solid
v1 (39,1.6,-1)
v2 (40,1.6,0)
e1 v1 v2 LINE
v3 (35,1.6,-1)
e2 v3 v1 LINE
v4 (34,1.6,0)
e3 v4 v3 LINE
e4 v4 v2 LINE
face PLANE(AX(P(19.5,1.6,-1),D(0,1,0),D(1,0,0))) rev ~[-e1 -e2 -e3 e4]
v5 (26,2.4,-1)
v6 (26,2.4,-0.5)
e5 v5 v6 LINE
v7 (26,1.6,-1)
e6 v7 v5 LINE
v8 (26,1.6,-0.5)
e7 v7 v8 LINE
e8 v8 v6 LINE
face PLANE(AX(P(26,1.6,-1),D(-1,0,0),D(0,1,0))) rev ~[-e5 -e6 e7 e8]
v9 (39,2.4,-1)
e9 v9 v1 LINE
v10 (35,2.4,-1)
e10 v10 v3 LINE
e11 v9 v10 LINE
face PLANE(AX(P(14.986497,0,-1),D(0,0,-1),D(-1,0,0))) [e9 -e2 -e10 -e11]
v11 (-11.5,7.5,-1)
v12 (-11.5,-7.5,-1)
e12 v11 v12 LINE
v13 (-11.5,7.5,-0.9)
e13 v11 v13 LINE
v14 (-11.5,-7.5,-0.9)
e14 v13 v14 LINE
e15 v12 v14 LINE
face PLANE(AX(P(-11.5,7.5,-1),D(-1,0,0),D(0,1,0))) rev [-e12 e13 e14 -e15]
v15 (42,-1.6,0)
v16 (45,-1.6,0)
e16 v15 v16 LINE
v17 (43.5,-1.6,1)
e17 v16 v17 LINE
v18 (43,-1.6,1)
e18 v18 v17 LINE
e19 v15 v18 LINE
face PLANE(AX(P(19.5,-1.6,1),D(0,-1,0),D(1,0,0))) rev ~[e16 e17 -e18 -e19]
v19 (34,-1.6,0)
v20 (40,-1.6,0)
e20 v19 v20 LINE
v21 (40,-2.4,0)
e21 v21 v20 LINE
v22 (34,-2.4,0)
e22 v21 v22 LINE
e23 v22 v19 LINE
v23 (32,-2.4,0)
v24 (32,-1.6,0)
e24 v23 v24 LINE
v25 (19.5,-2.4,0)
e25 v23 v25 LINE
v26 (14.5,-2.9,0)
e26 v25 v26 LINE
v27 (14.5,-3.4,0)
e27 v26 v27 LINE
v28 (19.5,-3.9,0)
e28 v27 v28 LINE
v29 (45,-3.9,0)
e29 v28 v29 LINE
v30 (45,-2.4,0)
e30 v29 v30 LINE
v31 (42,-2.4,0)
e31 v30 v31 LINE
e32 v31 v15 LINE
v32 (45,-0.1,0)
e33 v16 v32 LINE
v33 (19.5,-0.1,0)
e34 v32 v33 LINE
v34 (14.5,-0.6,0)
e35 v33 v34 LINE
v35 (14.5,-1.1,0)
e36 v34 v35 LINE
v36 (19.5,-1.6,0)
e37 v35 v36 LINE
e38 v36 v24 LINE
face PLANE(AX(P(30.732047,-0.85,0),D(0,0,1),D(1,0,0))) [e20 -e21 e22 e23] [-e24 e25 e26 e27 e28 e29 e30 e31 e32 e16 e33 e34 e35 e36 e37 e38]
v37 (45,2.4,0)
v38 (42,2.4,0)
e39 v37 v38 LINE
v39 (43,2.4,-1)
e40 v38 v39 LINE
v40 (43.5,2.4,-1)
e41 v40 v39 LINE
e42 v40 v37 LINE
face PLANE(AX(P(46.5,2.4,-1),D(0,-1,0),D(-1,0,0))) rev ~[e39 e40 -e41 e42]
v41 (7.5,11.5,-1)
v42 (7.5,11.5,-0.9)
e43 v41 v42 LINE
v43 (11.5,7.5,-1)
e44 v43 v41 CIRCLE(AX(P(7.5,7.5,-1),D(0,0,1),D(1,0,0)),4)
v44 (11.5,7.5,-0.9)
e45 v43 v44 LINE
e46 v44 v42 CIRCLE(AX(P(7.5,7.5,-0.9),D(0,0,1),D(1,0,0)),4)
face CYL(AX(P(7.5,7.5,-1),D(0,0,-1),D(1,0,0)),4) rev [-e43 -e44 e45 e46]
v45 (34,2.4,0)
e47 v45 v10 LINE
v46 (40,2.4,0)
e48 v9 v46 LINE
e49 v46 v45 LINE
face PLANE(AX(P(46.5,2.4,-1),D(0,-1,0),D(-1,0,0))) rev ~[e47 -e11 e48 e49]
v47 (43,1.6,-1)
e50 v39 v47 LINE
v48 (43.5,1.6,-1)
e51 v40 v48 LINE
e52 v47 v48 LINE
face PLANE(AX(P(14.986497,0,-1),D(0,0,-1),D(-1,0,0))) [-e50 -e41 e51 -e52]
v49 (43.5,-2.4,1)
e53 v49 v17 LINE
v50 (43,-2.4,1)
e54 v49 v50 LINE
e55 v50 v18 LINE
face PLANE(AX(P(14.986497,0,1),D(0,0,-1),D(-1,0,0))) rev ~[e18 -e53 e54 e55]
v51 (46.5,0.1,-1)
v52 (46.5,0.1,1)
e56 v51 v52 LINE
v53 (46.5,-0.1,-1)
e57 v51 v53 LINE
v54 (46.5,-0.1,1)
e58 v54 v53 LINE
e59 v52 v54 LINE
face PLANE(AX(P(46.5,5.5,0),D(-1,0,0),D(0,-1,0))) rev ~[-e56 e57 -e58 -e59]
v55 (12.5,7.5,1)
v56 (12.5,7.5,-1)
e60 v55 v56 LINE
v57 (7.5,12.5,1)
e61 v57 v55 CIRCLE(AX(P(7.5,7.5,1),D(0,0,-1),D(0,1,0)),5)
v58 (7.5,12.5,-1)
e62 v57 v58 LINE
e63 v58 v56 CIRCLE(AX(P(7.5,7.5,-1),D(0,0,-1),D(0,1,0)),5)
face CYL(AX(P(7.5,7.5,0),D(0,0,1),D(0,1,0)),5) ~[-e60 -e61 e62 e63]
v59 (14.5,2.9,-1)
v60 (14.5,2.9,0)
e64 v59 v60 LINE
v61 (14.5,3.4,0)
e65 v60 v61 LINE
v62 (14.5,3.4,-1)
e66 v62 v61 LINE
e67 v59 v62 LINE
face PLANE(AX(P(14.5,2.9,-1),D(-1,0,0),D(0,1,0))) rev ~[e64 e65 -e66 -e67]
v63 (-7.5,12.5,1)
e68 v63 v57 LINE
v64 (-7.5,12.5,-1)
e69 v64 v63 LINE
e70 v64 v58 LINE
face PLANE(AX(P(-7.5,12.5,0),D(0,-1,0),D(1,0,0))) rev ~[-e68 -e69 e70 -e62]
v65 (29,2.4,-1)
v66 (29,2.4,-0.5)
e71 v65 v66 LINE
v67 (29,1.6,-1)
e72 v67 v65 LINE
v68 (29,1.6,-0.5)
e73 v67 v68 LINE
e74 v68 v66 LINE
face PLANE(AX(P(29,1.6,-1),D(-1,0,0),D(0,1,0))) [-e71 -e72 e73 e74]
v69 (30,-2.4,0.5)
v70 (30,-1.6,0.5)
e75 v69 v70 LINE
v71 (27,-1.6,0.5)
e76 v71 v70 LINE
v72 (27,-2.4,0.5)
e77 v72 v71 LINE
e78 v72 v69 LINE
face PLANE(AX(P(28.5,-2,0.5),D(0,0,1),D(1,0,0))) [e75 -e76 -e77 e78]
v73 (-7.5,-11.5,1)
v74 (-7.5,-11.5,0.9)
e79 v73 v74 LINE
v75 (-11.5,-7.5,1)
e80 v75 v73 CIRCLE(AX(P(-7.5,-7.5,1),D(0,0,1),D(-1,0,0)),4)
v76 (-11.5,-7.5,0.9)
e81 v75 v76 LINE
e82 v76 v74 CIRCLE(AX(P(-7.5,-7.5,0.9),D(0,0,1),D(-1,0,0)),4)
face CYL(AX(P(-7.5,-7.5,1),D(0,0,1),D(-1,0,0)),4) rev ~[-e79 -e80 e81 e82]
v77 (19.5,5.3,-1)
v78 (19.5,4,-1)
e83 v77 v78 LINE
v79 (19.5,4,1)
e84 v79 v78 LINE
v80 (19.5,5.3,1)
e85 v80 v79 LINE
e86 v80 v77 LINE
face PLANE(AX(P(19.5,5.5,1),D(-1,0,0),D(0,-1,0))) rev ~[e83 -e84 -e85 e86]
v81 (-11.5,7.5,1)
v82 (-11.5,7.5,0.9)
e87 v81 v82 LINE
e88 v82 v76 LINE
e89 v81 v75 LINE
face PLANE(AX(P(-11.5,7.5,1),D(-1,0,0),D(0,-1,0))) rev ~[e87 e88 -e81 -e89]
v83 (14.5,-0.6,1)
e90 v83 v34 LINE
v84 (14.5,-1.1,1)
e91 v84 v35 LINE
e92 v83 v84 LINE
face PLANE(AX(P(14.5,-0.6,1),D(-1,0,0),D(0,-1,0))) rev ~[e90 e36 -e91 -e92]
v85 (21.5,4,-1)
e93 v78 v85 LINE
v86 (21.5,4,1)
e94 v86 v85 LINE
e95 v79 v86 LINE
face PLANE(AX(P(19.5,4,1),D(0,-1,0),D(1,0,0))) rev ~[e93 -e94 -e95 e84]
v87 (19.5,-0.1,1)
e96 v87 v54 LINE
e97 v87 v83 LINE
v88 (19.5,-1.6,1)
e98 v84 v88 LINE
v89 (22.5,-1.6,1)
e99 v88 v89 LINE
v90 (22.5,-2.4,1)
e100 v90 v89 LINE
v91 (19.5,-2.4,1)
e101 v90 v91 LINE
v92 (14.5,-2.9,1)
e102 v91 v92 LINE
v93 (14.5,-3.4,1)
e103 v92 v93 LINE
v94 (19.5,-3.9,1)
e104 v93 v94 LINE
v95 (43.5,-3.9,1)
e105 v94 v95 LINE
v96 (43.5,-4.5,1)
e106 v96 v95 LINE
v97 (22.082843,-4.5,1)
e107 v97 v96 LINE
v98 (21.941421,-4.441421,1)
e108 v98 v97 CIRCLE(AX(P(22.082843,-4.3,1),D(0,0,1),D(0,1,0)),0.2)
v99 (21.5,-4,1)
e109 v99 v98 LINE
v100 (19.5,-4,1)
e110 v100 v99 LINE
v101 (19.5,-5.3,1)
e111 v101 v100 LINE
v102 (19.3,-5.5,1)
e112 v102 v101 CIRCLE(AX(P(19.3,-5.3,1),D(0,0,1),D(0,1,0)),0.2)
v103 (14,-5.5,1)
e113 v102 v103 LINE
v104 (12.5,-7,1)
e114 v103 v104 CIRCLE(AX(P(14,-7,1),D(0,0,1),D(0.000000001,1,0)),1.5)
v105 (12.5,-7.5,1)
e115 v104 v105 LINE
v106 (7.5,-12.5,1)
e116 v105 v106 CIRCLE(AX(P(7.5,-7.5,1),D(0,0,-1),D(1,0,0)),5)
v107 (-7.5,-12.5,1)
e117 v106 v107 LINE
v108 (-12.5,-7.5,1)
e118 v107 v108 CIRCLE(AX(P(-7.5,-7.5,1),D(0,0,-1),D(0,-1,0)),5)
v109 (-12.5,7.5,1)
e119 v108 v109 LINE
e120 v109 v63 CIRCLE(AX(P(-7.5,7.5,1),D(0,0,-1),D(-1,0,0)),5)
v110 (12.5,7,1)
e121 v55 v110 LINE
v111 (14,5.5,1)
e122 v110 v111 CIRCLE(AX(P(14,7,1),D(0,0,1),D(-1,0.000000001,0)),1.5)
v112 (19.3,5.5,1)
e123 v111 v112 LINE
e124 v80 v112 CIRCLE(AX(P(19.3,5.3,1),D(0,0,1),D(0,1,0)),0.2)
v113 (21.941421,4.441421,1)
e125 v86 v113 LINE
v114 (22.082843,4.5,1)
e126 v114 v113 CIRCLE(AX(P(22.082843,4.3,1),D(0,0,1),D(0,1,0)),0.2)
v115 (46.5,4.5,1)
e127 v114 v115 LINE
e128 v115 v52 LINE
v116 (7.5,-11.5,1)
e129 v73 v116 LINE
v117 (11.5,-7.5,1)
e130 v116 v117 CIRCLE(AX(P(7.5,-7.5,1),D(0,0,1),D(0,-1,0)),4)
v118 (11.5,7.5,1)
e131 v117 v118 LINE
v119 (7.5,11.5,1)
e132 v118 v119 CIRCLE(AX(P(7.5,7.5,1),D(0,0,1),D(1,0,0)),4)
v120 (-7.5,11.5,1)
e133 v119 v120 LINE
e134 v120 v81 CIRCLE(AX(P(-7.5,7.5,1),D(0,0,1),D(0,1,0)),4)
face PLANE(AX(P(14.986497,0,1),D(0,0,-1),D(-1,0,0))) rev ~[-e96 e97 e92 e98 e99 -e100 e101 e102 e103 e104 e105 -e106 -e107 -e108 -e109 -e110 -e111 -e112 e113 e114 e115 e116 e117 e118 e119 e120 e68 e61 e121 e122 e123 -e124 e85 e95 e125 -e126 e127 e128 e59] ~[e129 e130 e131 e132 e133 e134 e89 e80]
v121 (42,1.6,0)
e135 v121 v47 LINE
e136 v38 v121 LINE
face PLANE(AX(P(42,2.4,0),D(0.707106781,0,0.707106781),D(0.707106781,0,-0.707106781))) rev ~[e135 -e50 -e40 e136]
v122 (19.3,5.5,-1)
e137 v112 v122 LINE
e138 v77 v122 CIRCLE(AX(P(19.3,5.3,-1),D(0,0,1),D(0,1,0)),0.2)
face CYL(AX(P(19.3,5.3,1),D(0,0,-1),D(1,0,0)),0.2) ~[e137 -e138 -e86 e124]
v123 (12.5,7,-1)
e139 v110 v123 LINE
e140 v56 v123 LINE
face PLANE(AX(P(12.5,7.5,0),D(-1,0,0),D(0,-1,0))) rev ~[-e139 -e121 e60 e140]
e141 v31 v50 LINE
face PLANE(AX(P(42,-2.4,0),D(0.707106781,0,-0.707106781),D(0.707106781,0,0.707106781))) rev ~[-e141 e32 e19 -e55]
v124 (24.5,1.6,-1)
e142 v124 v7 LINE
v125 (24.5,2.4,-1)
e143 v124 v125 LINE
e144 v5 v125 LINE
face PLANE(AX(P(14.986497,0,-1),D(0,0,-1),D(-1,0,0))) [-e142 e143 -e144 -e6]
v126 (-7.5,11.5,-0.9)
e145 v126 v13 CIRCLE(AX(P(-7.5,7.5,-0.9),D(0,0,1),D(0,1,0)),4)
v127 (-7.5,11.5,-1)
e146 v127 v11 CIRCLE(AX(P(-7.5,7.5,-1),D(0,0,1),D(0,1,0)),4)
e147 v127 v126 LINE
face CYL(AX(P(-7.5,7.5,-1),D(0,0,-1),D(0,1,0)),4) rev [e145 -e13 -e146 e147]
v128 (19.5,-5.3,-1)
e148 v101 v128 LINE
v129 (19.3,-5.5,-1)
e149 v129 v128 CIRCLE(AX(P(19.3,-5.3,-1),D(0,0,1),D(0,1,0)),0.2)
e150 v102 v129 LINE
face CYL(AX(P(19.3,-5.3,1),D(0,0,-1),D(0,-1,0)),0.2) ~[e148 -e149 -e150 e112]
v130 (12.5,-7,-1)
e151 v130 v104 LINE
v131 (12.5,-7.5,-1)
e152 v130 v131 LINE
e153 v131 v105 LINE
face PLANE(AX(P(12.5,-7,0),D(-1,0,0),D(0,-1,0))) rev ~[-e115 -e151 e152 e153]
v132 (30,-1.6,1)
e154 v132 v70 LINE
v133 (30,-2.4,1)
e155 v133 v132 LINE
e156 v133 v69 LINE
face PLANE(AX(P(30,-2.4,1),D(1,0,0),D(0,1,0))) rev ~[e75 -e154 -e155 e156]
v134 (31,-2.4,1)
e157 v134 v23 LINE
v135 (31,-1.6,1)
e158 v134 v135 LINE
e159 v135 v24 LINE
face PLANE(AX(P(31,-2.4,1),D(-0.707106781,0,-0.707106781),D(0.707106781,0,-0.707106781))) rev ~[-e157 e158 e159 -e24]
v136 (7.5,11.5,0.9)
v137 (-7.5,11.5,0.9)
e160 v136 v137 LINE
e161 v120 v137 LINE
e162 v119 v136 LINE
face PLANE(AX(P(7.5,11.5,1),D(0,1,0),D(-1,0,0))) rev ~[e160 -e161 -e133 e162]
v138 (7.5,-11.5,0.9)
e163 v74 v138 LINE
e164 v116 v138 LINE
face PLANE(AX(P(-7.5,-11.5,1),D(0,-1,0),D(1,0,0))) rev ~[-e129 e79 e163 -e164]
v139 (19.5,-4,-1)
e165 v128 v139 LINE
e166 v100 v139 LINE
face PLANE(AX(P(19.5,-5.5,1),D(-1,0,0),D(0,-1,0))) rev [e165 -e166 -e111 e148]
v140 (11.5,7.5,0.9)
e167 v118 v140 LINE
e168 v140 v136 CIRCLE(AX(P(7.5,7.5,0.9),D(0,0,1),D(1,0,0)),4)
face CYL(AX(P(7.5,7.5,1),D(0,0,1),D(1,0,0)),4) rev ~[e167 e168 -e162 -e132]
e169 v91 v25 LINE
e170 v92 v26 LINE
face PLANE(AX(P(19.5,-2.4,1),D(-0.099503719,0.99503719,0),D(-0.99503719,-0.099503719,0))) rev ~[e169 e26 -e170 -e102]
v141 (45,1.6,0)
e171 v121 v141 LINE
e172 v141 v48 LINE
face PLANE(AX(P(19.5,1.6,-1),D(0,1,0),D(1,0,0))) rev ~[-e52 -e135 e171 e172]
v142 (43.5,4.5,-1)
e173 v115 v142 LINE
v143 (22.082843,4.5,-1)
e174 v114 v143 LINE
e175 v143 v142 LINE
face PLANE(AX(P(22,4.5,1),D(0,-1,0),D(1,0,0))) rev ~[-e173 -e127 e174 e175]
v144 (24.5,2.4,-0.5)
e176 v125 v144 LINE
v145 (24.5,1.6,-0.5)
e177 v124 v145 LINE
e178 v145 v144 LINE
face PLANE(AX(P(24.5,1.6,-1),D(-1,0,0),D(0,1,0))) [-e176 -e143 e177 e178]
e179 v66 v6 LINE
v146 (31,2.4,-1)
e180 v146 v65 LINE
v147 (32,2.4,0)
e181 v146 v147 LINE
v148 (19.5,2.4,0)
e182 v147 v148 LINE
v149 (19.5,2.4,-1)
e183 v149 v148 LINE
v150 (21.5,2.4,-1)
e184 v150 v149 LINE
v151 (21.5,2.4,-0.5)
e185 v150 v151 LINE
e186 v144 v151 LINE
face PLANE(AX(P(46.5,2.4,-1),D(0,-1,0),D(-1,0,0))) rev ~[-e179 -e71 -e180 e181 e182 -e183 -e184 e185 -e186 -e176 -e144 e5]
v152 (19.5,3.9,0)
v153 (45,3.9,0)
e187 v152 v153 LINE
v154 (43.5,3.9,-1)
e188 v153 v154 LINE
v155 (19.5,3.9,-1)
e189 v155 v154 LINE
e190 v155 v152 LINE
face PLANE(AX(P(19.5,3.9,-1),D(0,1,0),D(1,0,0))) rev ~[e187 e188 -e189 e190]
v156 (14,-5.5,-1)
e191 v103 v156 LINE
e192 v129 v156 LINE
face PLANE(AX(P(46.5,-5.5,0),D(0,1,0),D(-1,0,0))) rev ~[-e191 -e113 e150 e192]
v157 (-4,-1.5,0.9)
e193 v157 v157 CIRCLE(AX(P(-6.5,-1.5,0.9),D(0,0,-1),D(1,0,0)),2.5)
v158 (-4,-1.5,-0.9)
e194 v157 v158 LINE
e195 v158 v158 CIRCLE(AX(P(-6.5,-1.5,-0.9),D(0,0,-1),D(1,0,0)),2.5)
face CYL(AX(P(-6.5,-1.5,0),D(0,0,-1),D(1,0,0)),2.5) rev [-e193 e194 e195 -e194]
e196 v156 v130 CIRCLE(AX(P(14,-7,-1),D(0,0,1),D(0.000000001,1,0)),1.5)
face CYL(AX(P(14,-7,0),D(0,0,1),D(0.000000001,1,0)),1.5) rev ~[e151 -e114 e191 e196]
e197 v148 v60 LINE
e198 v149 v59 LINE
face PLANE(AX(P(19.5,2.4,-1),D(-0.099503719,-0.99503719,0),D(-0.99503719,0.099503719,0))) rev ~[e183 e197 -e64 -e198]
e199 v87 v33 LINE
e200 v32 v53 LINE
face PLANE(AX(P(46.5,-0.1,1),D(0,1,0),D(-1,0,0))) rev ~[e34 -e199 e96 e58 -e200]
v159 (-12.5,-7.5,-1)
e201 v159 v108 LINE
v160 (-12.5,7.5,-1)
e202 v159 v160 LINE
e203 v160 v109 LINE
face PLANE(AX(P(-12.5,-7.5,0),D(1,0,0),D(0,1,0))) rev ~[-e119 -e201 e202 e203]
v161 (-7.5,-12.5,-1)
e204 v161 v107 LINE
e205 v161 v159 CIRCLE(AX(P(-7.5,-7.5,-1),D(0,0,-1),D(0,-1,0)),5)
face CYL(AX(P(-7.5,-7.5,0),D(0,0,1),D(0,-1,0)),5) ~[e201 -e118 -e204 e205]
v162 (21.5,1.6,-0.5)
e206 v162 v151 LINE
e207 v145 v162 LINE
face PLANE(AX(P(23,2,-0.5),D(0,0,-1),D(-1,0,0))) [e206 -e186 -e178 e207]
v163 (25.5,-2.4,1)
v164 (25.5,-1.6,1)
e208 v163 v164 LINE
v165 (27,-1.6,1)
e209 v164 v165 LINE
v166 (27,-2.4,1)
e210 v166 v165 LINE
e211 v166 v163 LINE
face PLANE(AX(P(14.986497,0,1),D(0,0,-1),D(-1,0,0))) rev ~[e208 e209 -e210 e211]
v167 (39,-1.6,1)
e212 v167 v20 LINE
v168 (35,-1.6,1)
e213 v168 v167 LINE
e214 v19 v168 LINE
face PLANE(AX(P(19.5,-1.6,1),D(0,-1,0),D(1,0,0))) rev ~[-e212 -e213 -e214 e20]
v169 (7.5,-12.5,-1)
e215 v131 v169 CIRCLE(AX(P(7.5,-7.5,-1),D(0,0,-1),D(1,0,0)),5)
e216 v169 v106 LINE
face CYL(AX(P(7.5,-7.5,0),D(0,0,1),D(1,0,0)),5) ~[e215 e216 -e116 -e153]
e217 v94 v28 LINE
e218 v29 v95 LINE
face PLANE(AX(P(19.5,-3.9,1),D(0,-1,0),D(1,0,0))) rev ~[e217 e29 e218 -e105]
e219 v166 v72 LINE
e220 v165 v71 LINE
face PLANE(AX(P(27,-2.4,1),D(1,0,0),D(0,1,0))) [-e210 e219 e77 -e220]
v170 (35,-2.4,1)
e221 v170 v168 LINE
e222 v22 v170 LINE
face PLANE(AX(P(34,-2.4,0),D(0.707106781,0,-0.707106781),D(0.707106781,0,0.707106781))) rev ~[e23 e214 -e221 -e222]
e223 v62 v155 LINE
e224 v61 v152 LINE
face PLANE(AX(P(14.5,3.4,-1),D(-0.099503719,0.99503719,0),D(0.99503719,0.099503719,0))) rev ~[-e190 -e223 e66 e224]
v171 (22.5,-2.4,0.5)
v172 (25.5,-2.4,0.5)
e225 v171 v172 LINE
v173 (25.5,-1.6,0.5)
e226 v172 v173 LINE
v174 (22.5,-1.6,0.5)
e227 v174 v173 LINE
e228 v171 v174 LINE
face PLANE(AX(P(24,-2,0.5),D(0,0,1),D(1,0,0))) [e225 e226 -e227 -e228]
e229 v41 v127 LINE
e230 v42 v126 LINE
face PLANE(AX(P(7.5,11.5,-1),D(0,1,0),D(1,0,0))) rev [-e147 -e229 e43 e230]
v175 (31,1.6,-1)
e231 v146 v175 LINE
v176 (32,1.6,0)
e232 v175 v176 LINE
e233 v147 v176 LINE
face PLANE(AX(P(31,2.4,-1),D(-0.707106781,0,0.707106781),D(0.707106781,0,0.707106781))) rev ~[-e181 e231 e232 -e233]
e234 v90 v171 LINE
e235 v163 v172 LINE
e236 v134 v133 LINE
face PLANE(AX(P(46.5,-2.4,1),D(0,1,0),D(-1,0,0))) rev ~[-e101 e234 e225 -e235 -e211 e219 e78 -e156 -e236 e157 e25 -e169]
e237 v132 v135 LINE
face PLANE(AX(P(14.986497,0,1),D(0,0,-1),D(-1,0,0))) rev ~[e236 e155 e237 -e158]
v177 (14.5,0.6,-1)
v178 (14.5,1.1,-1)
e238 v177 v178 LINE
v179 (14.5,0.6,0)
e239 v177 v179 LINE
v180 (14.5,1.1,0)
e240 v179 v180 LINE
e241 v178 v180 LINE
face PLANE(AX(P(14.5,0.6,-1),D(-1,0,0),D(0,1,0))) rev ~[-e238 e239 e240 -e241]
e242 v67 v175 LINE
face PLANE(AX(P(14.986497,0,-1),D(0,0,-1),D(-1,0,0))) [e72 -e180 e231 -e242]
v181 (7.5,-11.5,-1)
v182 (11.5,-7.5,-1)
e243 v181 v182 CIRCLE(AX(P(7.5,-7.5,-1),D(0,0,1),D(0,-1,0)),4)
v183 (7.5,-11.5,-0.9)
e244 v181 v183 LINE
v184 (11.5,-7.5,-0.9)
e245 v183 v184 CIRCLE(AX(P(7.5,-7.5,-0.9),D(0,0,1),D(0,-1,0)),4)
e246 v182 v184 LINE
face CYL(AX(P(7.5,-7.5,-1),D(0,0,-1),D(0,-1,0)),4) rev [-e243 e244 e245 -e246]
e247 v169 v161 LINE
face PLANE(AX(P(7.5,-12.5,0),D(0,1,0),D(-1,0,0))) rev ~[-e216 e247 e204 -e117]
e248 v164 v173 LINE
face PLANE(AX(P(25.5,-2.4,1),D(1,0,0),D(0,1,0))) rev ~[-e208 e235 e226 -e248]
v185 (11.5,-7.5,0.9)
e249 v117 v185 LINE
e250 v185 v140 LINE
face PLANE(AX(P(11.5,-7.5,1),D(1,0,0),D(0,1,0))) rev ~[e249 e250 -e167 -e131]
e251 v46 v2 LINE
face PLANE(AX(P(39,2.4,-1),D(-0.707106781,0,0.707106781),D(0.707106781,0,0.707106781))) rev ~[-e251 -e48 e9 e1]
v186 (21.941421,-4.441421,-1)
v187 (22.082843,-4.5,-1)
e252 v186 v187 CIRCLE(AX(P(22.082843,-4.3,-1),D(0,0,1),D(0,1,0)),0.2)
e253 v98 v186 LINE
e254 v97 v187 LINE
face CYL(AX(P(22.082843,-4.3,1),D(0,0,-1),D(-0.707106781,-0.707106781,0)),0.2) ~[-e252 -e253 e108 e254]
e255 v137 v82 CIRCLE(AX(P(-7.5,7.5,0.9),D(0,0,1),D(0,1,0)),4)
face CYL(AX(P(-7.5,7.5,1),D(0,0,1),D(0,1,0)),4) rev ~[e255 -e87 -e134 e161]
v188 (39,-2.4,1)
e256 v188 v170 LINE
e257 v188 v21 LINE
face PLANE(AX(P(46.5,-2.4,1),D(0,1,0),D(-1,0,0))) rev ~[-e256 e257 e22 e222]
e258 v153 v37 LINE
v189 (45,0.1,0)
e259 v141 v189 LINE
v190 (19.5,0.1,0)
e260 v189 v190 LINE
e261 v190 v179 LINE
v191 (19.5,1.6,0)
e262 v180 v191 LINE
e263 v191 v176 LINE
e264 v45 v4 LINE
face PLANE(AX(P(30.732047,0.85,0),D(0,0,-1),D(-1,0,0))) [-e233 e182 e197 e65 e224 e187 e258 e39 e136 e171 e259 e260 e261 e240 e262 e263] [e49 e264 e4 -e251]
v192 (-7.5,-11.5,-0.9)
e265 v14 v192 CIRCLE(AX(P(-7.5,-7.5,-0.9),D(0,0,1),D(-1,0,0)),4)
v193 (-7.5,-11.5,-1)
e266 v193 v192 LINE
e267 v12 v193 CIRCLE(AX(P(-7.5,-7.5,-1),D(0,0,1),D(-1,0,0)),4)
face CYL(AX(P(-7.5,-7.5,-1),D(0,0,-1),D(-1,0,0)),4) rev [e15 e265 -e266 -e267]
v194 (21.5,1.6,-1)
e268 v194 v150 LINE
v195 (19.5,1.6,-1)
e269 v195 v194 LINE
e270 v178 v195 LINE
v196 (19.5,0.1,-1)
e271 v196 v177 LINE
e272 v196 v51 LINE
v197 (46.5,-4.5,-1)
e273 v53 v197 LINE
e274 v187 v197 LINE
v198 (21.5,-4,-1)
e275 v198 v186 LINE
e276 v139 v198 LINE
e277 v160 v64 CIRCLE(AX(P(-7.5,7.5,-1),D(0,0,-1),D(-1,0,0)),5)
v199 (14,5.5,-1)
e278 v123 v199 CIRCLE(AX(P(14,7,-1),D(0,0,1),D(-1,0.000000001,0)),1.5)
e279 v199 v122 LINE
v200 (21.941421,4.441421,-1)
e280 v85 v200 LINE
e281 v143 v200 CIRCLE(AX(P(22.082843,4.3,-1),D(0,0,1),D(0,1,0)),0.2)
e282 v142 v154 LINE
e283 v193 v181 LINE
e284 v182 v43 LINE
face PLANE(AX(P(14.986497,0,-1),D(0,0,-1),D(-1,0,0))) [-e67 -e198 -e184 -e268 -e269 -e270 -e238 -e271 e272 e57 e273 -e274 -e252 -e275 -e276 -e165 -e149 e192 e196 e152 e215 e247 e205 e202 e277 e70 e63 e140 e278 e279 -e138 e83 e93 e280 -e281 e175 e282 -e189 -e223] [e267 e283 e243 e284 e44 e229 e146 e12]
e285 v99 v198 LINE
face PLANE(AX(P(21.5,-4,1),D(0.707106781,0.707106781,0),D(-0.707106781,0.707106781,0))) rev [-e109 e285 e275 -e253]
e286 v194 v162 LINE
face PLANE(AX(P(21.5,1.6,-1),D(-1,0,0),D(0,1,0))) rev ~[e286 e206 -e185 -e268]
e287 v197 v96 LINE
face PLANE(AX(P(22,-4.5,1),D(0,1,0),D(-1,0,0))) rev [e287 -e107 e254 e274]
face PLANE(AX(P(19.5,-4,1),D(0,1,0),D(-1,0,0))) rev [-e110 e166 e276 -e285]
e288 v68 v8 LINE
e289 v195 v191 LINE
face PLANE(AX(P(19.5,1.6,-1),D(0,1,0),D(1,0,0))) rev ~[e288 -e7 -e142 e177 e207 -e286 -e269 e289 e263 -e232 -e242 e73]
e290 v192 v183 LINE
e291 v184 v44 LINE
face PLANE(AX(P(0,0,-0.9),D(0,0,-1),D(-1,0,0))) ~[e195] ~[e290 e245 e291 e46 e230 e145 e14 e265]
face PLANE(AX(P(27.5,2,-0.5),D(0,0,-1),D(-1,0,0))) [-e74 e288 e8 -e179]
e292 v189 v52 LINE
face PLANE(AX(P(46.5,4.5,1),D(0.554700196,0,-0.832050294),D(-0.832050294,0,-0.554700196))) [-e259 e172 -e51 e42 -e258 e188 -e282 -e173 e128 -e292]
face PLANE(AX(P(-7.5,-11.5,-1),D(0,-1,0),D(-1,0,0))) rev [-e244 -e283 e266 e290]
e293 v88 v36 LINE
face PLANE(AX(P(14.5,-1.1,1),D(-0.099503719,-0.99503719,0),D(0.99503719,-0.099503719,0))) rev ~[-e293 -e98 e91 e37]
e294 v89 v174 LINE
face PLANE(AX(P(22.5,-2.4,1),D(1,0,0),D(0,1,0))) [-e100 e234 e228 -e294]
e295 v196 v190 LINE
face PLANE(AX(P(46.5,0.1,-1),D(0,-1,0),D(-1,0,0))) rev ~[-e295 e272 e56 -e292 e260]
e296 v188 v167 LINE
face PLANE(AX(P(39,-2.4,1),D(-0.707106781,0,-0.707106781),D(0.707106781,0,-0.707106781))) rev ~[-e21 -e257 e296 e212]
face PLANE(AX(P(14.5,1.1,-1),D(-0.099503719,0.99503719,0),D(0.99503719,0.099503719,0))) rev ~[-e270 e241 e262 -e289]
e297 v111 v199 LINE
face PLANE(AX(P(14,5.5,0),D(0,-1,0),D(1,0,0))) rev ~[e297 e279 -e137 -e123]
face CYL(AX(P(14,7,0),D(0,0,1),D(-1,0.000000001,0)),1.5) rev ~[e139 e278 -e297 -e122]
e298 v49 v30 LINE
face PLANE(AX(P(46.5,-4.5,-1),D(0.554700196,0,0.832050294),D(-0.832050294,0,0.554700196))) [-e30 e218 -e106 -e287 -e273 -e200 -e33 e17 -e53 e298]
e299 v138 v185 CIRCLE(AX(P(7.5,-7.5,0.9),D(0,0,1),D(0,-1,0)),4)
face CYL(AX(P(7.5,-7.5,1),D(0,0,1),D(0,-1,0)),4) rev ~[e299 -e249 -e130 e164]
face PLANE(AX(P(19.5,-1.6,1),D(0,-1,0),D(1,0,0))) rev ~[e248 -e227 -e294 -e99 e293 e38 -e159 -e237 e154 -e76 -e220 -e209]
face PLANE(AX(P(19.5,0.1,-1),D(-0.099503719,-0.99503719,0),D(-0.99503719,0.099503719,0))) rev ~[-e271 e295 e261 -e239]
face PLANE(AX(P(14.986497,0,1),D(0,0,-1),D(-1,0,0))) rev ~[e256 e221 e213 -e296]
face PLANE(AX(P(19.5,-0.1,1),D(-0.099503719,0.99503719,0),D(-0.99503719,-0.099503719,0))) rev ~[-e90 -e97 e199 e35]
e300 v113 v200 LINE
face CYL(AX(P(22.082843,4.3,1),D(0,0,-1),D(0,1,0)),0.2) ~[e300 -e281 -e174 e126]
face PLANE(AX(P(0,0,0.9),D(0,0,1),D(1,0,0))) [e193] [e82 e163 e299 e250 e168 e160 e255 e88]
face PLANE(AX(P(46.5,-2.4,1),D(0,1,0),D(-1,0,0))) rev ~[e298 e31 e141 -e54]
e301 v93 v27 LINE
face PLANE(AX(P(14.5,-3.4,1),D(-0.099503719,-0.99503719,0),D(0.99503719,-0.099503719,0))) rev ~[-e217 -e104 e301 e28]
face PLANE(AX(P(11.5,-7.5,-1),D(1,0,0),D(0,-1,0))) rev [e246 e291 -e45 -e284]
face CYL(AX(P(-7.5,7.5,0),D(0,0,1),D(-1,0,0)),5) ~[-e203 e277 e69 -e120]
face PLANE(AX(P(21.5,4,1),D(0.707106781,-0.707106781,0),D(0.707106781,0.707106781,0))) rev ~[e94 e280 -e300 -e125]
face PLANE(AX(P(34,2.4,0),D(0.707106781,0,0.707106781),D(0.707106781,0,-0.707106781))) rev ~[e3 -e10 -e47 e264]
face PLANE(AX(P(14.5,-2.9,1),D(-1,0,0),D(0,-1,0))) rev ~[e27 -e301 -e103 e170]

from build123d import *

# Parameters (mm, degrees)
SKETCH1_R            = 2.5
BOSS_EXTRUDE1_DEPTH  = 1
CUT_EXTRUDE2_DEPTH   = 0.1
CUT_EXTRUDE3_DEPTH   = 2
FILLET1_R            = 0.2
FILLET1_OF_MIRROR2_R = 0.2
CUT_EXTRUDE4_DEPTH   = 1
LPATTERN1_COUNT      = 2
LPATTERN1_PITCH      = 2.3
SKETCH5_W            = 3
SKETCH5_H            = 0.8
CUT_EXTRUDE5_DEPTH   = 0.5
CUT_EXTRUDE6_DEPTH   = 0.8
CUT_EXTRUDE7_REACH   = 51.52
CUT_EXTRUDE8_DEPTH   = 1
LPATTERN2_COUNT      = 2
LPATTERN2_PITCH      = 2.3
SKETCH9_W            = 3
SKETCH9_H            = 0.8
CUT_EXTRUDE9_DEPTH   = 0.5
CUT_EXTRUDE10_DEPTH  = 0.8
CUT_EXTRUDE11_REACH  = 51.52


with BuildPart() as part:
    # Sketch1 → Boss-Extrude1 (new, symmetric)
    with BuildSketch(Plane.XY):
        with BuildLine():
            Line((-7.5, 12.5), (7.5, 12.5))
            ThreePointArc((7.5, 12.5), (11.035533906, 11.035533906), (12.5, 7.5))
            Line((12.5, 7.5), (12.5, 7))
            ThreePointArc((12.5, 7), (12.939339828, 5.939339828), (14, 5.5))
            Line((14, 5.5), (46.5, 5.5))
            Line((46.5, 5.5), (46.5, -5.5))
            Line((46.5, -5.5), (14, -5.5))
            ThreePointArc((14, -5.5), (12.939339828, -5.939339828), (12.5, -7))
            Line((12.5, -7), (12.5, -7.5))
            ThreePointArc((12.5, -7.5), (11.035533906, -11.035533906), (7.5, -12.5))
            Line((7.5, -12.5), (-7.5, -12.5))
            ThreePointArc((-7.5, -12.5), (-11.035533906, -11.035533906), (-12.5, -7.5))
            Line((-12.5, -7.5), (-12.5, 7.5))
            ThreePointArc((-12.5, 7.5), (-11.035533906, 11.035533906), (-7.5, 12.5))
        make_face()
        with Locations((-6.5, -1.5)):
            Circle(SKETCH1_R, mode=Mode.SUBTRACT)
    extrude(amount=BOSS_EXTRUDE1_DEPTH, both=True)

    # Sketch2 → Cut-Extrude2 (cut)
    with BuildSketch(Plane.XY.offset(1)):
        with BuildLine():
            Line((11.5, 7), (11.5, 7.5))
            ThreePointArc((11.5, 7.5), (10.328427125, 10.328427125), (7.5, 11.5))
            Line((7.5, 11.5), (-7.5, 11.5))
            ThreePointArc((-7.5, 11.5), (-10.328427125, 10.328427125), (-11.5, 7.5))
            Line((-11.5, 7.5), (-11.5, -7.5))
            ThreePointArc((-11.5, -7.5), (-10.328427125, -10.328427125), (-7.5, -11.5))
            Line((-7.5, -11.5), (7.5, -11.5))
            ThreePointArc((7.5, -11.5), (10.328427125, -10.328427125), (11.5, -7.5))
            Line((11.5, -7.5), (11.5, -7))
            Line((11.5, -7), (11.5, 7))
        make_face()
    cut_extrude2 = extrude(amount=-CUT_EXTRUDE2_DEPTH, mode=Mode.SUBTRACT)

    # Mirror1: Cut-Extrude2 across plane
    add(cut_extrude2.mirror(Plane.XY), mode=Mode.SUBTRACT)

    # Sketch3 → Cut-Extrude3 (cut)
    with BuildSketch(Plane.XY.offset(1)):
        Polygon((19.5, 5.5), (19.5, 4), (21.5, 4), (22, 4.5), (46.5, 4.5), (46.5, 5.5), align=None)
    cut_extrude3 = extrude(amount=-CUT_EXTRUDE3_DEPTH, mode=Mode.SUBTRACT)

    # Fillet1
    fillet1_edges = [part.edges().sort_by_distance(p)[0] for p in [
        (19.5, 5.5, 0),
        (22, 4.5, 0),
    ]]
    fillet(fillet1_edges, radius=FILLET1_R)

    # Mirror2: Cut-Extrude3 across plane
    add(cut_extrude3.mirror(Plane.ZX), mode=Mode.SUBTRACT)

    # Fillet1 of Mirror2
    fillet1_of_mirror2_edges = [part.edges().sort_by_distance(p)[0] for p in [
        (19.5, -5.5, 0),
        (22, -4.5, 0),
    ]]
    fillet(fillet1_of_mirror2_edges, radius=FILLET1_OF_MIRROR2_R)

    # Sketch4 → Cut-Extrude4 (cut)
    with BuildSketch(Plane.XY.offset(1)):
        Polygon((46.5, -0.1), (19.5, -0.1), (14.5, -0.6), (14.5, -1.1), (19.5, -1.6), (46.5, -1.6), align=None)
    cut_extrude4 = extrude(amount=-CUT_EXTRUDE4_DEPTH, mode=Mode.SUBTRACT)

    # LPattern1: Cut-Extrude4 ×2
    with Locations(*[(0, -i * LPATTERN1_PITCH, 0) for i in range(1, LPATTERN1_COUNT)]):
        add(cut_extrude4, mode=Mode.SUBTRACT)

    # Sketch5 → Cut-Extrude5 (cut)
    with BuildSketch(Plane.XY.offset(1)):
        with Locations((24, -2)):
            Rectangle(SKETCH5_W, SKETCH5_H)
        with Locations((28.5, -2)):
            Rectangle(SKETCH5_W, SKETCH5_H)
    extrude(amount=-CUT_EXTRUDE5_DEPTH, mode=Mode.SUBTRACT)

    # Sketch6 → Cut-Extrude6 (cut)
    with BuildSketch(Plane.XZ.offset(2.4)):
        Polygon((35, 1), (31, 1), (32, 0), (34, 0), align=None)
        Polygon((43, 1), (39, 1), (40, 0), (42, 0), align=None)
    extrude(amount=-CUT_EXTRUDE6_DEPTH, mode=Mode.SUBTRACT)

    # Cut-Extrude7: up to this face of the body (flat: up to its plane)
    cut_extrude7_end = Plane(part.part.faces().sort_by_distance((33, -0.1, 0.5))[0])
    # Sketch7 → Cut-Extrude7 (cut, up to the picked face)
    with BuildSketch(Plane.XZ.offset(4.5), mode=Mode.PRIVATE) as cut_extrude7_sk1:
        Polygon((46.5, -1), (43.5, 1), (46.5, 1), align=None)
    cut_extrude7_tool1 = split(extrude(cut_extrude7_sk1.sketch, amount=-CUT_EXTRUDE7_REACH, mode=Mode.PRIVATE), bisect_by=cut_extrude7_end, keep=Keep.BOTH, mode=Mode.PRIVATE)
    add(cut_extrude7_tool1.solids().sort_by(Axis((45.5, -4.5, 0.333333), (0, 1, 0)))[0], mode=Mode.SUBTRACT)

    # Sketch8 → Cut-Extrude8 (cut)
    with BuildSketch(Plane(origin=(0, 0, -1), x_dir=(-1, 0, 0), z_dir=(0, 0, -1))):
        Polygon((-46.5, 0.1), (-19.5, 0.1), (-14.5, 0.6), (-14.5, 1.1), (-19.5, 1.6), (-46.5, 1.6), align=None)
    cut_extrude8 = extrude(amount=-CUT_EXTRUDE8_DEPTH, mode=Mode.SUBTRACT)

    # LPattern2: Cut-Extrude8 ×2
    with Locations(*[(0, i * LPATTERN2_PITCH, 0) for i in range(1, LPATTERN2_COUNT)]):
        add(cut_extrude8, mode=Mode.SUBTRACT)

    # Sketch9 → Cut-Extrude9 (cut)
    with BuildSketch(Plane(origin=(0, 0, -1), x_dir=(-1, 0, 0), z_dir=(0, 0, -1))):
        with Locations((-23, 2)):
            Rectangle(SKETCH9_W, SKETCH9_H)
        with Locations((-27.5, 2)):
            Rectangle(SKETCH9_W, SKETCH9_H)
    extrude(amount=-CUT_EXTRUDE9_DEPTH, mode=Mode.SUBTRACT)

    # Sketch10 → Cut-Extrude10 (cut)
    with BuildSketch(Plane(origin=(0, 2.4, 0), x_dir=(1, 0, 0), z_dir=(0, 1, 0))):
        Polygon((31, 1), (32, 0), (34, 0), (35, 1), align=None)
        Polygon((39, 1), (40, 0), (42, 0), (43, 1), align=None)
    extrude(amount=-CUT_EXTRUDE10_DEPTH, mode=Mode.SUBTRACT)

    # Cut-Extrude11: up to this face of the body (flat: up to its plane)
    cut_extrude11_end = Plane(part.part.faces().sort_by_distance((33, 0.1, -0.5))[0])
    # Sketch11 → Cut-Extrude11 (cut, up to the picked face)
    with BuildSketch(Plane(origin=(0, 4.5, 0), x_dir=(1, 0, 0), z_dir=(0, 1, 0)), mode=Mode.PRIVATE) as cut_extrude11_sk1:
        Polygon((46.5, -1), (43.5, 1), (46.5, 1), align=None)
    cut_extrude11_tool1 = split(extrude(cut_extrude11_sk1.sketch, amount=-CUT_EXTRUDE11_REACH, mode=Mode.PRIVATE), bisect_by=cut_extrude11_end, keep=Keep.BOTH, mode=Mode.PRIVATE)
    add(cut_extrude11_tool1.solids().sort_by(Axis((45.5, 4.5, -0.333333), (0, -1, 0)))[0], mode=Mode.SUBTRACT)


solid = part.part
